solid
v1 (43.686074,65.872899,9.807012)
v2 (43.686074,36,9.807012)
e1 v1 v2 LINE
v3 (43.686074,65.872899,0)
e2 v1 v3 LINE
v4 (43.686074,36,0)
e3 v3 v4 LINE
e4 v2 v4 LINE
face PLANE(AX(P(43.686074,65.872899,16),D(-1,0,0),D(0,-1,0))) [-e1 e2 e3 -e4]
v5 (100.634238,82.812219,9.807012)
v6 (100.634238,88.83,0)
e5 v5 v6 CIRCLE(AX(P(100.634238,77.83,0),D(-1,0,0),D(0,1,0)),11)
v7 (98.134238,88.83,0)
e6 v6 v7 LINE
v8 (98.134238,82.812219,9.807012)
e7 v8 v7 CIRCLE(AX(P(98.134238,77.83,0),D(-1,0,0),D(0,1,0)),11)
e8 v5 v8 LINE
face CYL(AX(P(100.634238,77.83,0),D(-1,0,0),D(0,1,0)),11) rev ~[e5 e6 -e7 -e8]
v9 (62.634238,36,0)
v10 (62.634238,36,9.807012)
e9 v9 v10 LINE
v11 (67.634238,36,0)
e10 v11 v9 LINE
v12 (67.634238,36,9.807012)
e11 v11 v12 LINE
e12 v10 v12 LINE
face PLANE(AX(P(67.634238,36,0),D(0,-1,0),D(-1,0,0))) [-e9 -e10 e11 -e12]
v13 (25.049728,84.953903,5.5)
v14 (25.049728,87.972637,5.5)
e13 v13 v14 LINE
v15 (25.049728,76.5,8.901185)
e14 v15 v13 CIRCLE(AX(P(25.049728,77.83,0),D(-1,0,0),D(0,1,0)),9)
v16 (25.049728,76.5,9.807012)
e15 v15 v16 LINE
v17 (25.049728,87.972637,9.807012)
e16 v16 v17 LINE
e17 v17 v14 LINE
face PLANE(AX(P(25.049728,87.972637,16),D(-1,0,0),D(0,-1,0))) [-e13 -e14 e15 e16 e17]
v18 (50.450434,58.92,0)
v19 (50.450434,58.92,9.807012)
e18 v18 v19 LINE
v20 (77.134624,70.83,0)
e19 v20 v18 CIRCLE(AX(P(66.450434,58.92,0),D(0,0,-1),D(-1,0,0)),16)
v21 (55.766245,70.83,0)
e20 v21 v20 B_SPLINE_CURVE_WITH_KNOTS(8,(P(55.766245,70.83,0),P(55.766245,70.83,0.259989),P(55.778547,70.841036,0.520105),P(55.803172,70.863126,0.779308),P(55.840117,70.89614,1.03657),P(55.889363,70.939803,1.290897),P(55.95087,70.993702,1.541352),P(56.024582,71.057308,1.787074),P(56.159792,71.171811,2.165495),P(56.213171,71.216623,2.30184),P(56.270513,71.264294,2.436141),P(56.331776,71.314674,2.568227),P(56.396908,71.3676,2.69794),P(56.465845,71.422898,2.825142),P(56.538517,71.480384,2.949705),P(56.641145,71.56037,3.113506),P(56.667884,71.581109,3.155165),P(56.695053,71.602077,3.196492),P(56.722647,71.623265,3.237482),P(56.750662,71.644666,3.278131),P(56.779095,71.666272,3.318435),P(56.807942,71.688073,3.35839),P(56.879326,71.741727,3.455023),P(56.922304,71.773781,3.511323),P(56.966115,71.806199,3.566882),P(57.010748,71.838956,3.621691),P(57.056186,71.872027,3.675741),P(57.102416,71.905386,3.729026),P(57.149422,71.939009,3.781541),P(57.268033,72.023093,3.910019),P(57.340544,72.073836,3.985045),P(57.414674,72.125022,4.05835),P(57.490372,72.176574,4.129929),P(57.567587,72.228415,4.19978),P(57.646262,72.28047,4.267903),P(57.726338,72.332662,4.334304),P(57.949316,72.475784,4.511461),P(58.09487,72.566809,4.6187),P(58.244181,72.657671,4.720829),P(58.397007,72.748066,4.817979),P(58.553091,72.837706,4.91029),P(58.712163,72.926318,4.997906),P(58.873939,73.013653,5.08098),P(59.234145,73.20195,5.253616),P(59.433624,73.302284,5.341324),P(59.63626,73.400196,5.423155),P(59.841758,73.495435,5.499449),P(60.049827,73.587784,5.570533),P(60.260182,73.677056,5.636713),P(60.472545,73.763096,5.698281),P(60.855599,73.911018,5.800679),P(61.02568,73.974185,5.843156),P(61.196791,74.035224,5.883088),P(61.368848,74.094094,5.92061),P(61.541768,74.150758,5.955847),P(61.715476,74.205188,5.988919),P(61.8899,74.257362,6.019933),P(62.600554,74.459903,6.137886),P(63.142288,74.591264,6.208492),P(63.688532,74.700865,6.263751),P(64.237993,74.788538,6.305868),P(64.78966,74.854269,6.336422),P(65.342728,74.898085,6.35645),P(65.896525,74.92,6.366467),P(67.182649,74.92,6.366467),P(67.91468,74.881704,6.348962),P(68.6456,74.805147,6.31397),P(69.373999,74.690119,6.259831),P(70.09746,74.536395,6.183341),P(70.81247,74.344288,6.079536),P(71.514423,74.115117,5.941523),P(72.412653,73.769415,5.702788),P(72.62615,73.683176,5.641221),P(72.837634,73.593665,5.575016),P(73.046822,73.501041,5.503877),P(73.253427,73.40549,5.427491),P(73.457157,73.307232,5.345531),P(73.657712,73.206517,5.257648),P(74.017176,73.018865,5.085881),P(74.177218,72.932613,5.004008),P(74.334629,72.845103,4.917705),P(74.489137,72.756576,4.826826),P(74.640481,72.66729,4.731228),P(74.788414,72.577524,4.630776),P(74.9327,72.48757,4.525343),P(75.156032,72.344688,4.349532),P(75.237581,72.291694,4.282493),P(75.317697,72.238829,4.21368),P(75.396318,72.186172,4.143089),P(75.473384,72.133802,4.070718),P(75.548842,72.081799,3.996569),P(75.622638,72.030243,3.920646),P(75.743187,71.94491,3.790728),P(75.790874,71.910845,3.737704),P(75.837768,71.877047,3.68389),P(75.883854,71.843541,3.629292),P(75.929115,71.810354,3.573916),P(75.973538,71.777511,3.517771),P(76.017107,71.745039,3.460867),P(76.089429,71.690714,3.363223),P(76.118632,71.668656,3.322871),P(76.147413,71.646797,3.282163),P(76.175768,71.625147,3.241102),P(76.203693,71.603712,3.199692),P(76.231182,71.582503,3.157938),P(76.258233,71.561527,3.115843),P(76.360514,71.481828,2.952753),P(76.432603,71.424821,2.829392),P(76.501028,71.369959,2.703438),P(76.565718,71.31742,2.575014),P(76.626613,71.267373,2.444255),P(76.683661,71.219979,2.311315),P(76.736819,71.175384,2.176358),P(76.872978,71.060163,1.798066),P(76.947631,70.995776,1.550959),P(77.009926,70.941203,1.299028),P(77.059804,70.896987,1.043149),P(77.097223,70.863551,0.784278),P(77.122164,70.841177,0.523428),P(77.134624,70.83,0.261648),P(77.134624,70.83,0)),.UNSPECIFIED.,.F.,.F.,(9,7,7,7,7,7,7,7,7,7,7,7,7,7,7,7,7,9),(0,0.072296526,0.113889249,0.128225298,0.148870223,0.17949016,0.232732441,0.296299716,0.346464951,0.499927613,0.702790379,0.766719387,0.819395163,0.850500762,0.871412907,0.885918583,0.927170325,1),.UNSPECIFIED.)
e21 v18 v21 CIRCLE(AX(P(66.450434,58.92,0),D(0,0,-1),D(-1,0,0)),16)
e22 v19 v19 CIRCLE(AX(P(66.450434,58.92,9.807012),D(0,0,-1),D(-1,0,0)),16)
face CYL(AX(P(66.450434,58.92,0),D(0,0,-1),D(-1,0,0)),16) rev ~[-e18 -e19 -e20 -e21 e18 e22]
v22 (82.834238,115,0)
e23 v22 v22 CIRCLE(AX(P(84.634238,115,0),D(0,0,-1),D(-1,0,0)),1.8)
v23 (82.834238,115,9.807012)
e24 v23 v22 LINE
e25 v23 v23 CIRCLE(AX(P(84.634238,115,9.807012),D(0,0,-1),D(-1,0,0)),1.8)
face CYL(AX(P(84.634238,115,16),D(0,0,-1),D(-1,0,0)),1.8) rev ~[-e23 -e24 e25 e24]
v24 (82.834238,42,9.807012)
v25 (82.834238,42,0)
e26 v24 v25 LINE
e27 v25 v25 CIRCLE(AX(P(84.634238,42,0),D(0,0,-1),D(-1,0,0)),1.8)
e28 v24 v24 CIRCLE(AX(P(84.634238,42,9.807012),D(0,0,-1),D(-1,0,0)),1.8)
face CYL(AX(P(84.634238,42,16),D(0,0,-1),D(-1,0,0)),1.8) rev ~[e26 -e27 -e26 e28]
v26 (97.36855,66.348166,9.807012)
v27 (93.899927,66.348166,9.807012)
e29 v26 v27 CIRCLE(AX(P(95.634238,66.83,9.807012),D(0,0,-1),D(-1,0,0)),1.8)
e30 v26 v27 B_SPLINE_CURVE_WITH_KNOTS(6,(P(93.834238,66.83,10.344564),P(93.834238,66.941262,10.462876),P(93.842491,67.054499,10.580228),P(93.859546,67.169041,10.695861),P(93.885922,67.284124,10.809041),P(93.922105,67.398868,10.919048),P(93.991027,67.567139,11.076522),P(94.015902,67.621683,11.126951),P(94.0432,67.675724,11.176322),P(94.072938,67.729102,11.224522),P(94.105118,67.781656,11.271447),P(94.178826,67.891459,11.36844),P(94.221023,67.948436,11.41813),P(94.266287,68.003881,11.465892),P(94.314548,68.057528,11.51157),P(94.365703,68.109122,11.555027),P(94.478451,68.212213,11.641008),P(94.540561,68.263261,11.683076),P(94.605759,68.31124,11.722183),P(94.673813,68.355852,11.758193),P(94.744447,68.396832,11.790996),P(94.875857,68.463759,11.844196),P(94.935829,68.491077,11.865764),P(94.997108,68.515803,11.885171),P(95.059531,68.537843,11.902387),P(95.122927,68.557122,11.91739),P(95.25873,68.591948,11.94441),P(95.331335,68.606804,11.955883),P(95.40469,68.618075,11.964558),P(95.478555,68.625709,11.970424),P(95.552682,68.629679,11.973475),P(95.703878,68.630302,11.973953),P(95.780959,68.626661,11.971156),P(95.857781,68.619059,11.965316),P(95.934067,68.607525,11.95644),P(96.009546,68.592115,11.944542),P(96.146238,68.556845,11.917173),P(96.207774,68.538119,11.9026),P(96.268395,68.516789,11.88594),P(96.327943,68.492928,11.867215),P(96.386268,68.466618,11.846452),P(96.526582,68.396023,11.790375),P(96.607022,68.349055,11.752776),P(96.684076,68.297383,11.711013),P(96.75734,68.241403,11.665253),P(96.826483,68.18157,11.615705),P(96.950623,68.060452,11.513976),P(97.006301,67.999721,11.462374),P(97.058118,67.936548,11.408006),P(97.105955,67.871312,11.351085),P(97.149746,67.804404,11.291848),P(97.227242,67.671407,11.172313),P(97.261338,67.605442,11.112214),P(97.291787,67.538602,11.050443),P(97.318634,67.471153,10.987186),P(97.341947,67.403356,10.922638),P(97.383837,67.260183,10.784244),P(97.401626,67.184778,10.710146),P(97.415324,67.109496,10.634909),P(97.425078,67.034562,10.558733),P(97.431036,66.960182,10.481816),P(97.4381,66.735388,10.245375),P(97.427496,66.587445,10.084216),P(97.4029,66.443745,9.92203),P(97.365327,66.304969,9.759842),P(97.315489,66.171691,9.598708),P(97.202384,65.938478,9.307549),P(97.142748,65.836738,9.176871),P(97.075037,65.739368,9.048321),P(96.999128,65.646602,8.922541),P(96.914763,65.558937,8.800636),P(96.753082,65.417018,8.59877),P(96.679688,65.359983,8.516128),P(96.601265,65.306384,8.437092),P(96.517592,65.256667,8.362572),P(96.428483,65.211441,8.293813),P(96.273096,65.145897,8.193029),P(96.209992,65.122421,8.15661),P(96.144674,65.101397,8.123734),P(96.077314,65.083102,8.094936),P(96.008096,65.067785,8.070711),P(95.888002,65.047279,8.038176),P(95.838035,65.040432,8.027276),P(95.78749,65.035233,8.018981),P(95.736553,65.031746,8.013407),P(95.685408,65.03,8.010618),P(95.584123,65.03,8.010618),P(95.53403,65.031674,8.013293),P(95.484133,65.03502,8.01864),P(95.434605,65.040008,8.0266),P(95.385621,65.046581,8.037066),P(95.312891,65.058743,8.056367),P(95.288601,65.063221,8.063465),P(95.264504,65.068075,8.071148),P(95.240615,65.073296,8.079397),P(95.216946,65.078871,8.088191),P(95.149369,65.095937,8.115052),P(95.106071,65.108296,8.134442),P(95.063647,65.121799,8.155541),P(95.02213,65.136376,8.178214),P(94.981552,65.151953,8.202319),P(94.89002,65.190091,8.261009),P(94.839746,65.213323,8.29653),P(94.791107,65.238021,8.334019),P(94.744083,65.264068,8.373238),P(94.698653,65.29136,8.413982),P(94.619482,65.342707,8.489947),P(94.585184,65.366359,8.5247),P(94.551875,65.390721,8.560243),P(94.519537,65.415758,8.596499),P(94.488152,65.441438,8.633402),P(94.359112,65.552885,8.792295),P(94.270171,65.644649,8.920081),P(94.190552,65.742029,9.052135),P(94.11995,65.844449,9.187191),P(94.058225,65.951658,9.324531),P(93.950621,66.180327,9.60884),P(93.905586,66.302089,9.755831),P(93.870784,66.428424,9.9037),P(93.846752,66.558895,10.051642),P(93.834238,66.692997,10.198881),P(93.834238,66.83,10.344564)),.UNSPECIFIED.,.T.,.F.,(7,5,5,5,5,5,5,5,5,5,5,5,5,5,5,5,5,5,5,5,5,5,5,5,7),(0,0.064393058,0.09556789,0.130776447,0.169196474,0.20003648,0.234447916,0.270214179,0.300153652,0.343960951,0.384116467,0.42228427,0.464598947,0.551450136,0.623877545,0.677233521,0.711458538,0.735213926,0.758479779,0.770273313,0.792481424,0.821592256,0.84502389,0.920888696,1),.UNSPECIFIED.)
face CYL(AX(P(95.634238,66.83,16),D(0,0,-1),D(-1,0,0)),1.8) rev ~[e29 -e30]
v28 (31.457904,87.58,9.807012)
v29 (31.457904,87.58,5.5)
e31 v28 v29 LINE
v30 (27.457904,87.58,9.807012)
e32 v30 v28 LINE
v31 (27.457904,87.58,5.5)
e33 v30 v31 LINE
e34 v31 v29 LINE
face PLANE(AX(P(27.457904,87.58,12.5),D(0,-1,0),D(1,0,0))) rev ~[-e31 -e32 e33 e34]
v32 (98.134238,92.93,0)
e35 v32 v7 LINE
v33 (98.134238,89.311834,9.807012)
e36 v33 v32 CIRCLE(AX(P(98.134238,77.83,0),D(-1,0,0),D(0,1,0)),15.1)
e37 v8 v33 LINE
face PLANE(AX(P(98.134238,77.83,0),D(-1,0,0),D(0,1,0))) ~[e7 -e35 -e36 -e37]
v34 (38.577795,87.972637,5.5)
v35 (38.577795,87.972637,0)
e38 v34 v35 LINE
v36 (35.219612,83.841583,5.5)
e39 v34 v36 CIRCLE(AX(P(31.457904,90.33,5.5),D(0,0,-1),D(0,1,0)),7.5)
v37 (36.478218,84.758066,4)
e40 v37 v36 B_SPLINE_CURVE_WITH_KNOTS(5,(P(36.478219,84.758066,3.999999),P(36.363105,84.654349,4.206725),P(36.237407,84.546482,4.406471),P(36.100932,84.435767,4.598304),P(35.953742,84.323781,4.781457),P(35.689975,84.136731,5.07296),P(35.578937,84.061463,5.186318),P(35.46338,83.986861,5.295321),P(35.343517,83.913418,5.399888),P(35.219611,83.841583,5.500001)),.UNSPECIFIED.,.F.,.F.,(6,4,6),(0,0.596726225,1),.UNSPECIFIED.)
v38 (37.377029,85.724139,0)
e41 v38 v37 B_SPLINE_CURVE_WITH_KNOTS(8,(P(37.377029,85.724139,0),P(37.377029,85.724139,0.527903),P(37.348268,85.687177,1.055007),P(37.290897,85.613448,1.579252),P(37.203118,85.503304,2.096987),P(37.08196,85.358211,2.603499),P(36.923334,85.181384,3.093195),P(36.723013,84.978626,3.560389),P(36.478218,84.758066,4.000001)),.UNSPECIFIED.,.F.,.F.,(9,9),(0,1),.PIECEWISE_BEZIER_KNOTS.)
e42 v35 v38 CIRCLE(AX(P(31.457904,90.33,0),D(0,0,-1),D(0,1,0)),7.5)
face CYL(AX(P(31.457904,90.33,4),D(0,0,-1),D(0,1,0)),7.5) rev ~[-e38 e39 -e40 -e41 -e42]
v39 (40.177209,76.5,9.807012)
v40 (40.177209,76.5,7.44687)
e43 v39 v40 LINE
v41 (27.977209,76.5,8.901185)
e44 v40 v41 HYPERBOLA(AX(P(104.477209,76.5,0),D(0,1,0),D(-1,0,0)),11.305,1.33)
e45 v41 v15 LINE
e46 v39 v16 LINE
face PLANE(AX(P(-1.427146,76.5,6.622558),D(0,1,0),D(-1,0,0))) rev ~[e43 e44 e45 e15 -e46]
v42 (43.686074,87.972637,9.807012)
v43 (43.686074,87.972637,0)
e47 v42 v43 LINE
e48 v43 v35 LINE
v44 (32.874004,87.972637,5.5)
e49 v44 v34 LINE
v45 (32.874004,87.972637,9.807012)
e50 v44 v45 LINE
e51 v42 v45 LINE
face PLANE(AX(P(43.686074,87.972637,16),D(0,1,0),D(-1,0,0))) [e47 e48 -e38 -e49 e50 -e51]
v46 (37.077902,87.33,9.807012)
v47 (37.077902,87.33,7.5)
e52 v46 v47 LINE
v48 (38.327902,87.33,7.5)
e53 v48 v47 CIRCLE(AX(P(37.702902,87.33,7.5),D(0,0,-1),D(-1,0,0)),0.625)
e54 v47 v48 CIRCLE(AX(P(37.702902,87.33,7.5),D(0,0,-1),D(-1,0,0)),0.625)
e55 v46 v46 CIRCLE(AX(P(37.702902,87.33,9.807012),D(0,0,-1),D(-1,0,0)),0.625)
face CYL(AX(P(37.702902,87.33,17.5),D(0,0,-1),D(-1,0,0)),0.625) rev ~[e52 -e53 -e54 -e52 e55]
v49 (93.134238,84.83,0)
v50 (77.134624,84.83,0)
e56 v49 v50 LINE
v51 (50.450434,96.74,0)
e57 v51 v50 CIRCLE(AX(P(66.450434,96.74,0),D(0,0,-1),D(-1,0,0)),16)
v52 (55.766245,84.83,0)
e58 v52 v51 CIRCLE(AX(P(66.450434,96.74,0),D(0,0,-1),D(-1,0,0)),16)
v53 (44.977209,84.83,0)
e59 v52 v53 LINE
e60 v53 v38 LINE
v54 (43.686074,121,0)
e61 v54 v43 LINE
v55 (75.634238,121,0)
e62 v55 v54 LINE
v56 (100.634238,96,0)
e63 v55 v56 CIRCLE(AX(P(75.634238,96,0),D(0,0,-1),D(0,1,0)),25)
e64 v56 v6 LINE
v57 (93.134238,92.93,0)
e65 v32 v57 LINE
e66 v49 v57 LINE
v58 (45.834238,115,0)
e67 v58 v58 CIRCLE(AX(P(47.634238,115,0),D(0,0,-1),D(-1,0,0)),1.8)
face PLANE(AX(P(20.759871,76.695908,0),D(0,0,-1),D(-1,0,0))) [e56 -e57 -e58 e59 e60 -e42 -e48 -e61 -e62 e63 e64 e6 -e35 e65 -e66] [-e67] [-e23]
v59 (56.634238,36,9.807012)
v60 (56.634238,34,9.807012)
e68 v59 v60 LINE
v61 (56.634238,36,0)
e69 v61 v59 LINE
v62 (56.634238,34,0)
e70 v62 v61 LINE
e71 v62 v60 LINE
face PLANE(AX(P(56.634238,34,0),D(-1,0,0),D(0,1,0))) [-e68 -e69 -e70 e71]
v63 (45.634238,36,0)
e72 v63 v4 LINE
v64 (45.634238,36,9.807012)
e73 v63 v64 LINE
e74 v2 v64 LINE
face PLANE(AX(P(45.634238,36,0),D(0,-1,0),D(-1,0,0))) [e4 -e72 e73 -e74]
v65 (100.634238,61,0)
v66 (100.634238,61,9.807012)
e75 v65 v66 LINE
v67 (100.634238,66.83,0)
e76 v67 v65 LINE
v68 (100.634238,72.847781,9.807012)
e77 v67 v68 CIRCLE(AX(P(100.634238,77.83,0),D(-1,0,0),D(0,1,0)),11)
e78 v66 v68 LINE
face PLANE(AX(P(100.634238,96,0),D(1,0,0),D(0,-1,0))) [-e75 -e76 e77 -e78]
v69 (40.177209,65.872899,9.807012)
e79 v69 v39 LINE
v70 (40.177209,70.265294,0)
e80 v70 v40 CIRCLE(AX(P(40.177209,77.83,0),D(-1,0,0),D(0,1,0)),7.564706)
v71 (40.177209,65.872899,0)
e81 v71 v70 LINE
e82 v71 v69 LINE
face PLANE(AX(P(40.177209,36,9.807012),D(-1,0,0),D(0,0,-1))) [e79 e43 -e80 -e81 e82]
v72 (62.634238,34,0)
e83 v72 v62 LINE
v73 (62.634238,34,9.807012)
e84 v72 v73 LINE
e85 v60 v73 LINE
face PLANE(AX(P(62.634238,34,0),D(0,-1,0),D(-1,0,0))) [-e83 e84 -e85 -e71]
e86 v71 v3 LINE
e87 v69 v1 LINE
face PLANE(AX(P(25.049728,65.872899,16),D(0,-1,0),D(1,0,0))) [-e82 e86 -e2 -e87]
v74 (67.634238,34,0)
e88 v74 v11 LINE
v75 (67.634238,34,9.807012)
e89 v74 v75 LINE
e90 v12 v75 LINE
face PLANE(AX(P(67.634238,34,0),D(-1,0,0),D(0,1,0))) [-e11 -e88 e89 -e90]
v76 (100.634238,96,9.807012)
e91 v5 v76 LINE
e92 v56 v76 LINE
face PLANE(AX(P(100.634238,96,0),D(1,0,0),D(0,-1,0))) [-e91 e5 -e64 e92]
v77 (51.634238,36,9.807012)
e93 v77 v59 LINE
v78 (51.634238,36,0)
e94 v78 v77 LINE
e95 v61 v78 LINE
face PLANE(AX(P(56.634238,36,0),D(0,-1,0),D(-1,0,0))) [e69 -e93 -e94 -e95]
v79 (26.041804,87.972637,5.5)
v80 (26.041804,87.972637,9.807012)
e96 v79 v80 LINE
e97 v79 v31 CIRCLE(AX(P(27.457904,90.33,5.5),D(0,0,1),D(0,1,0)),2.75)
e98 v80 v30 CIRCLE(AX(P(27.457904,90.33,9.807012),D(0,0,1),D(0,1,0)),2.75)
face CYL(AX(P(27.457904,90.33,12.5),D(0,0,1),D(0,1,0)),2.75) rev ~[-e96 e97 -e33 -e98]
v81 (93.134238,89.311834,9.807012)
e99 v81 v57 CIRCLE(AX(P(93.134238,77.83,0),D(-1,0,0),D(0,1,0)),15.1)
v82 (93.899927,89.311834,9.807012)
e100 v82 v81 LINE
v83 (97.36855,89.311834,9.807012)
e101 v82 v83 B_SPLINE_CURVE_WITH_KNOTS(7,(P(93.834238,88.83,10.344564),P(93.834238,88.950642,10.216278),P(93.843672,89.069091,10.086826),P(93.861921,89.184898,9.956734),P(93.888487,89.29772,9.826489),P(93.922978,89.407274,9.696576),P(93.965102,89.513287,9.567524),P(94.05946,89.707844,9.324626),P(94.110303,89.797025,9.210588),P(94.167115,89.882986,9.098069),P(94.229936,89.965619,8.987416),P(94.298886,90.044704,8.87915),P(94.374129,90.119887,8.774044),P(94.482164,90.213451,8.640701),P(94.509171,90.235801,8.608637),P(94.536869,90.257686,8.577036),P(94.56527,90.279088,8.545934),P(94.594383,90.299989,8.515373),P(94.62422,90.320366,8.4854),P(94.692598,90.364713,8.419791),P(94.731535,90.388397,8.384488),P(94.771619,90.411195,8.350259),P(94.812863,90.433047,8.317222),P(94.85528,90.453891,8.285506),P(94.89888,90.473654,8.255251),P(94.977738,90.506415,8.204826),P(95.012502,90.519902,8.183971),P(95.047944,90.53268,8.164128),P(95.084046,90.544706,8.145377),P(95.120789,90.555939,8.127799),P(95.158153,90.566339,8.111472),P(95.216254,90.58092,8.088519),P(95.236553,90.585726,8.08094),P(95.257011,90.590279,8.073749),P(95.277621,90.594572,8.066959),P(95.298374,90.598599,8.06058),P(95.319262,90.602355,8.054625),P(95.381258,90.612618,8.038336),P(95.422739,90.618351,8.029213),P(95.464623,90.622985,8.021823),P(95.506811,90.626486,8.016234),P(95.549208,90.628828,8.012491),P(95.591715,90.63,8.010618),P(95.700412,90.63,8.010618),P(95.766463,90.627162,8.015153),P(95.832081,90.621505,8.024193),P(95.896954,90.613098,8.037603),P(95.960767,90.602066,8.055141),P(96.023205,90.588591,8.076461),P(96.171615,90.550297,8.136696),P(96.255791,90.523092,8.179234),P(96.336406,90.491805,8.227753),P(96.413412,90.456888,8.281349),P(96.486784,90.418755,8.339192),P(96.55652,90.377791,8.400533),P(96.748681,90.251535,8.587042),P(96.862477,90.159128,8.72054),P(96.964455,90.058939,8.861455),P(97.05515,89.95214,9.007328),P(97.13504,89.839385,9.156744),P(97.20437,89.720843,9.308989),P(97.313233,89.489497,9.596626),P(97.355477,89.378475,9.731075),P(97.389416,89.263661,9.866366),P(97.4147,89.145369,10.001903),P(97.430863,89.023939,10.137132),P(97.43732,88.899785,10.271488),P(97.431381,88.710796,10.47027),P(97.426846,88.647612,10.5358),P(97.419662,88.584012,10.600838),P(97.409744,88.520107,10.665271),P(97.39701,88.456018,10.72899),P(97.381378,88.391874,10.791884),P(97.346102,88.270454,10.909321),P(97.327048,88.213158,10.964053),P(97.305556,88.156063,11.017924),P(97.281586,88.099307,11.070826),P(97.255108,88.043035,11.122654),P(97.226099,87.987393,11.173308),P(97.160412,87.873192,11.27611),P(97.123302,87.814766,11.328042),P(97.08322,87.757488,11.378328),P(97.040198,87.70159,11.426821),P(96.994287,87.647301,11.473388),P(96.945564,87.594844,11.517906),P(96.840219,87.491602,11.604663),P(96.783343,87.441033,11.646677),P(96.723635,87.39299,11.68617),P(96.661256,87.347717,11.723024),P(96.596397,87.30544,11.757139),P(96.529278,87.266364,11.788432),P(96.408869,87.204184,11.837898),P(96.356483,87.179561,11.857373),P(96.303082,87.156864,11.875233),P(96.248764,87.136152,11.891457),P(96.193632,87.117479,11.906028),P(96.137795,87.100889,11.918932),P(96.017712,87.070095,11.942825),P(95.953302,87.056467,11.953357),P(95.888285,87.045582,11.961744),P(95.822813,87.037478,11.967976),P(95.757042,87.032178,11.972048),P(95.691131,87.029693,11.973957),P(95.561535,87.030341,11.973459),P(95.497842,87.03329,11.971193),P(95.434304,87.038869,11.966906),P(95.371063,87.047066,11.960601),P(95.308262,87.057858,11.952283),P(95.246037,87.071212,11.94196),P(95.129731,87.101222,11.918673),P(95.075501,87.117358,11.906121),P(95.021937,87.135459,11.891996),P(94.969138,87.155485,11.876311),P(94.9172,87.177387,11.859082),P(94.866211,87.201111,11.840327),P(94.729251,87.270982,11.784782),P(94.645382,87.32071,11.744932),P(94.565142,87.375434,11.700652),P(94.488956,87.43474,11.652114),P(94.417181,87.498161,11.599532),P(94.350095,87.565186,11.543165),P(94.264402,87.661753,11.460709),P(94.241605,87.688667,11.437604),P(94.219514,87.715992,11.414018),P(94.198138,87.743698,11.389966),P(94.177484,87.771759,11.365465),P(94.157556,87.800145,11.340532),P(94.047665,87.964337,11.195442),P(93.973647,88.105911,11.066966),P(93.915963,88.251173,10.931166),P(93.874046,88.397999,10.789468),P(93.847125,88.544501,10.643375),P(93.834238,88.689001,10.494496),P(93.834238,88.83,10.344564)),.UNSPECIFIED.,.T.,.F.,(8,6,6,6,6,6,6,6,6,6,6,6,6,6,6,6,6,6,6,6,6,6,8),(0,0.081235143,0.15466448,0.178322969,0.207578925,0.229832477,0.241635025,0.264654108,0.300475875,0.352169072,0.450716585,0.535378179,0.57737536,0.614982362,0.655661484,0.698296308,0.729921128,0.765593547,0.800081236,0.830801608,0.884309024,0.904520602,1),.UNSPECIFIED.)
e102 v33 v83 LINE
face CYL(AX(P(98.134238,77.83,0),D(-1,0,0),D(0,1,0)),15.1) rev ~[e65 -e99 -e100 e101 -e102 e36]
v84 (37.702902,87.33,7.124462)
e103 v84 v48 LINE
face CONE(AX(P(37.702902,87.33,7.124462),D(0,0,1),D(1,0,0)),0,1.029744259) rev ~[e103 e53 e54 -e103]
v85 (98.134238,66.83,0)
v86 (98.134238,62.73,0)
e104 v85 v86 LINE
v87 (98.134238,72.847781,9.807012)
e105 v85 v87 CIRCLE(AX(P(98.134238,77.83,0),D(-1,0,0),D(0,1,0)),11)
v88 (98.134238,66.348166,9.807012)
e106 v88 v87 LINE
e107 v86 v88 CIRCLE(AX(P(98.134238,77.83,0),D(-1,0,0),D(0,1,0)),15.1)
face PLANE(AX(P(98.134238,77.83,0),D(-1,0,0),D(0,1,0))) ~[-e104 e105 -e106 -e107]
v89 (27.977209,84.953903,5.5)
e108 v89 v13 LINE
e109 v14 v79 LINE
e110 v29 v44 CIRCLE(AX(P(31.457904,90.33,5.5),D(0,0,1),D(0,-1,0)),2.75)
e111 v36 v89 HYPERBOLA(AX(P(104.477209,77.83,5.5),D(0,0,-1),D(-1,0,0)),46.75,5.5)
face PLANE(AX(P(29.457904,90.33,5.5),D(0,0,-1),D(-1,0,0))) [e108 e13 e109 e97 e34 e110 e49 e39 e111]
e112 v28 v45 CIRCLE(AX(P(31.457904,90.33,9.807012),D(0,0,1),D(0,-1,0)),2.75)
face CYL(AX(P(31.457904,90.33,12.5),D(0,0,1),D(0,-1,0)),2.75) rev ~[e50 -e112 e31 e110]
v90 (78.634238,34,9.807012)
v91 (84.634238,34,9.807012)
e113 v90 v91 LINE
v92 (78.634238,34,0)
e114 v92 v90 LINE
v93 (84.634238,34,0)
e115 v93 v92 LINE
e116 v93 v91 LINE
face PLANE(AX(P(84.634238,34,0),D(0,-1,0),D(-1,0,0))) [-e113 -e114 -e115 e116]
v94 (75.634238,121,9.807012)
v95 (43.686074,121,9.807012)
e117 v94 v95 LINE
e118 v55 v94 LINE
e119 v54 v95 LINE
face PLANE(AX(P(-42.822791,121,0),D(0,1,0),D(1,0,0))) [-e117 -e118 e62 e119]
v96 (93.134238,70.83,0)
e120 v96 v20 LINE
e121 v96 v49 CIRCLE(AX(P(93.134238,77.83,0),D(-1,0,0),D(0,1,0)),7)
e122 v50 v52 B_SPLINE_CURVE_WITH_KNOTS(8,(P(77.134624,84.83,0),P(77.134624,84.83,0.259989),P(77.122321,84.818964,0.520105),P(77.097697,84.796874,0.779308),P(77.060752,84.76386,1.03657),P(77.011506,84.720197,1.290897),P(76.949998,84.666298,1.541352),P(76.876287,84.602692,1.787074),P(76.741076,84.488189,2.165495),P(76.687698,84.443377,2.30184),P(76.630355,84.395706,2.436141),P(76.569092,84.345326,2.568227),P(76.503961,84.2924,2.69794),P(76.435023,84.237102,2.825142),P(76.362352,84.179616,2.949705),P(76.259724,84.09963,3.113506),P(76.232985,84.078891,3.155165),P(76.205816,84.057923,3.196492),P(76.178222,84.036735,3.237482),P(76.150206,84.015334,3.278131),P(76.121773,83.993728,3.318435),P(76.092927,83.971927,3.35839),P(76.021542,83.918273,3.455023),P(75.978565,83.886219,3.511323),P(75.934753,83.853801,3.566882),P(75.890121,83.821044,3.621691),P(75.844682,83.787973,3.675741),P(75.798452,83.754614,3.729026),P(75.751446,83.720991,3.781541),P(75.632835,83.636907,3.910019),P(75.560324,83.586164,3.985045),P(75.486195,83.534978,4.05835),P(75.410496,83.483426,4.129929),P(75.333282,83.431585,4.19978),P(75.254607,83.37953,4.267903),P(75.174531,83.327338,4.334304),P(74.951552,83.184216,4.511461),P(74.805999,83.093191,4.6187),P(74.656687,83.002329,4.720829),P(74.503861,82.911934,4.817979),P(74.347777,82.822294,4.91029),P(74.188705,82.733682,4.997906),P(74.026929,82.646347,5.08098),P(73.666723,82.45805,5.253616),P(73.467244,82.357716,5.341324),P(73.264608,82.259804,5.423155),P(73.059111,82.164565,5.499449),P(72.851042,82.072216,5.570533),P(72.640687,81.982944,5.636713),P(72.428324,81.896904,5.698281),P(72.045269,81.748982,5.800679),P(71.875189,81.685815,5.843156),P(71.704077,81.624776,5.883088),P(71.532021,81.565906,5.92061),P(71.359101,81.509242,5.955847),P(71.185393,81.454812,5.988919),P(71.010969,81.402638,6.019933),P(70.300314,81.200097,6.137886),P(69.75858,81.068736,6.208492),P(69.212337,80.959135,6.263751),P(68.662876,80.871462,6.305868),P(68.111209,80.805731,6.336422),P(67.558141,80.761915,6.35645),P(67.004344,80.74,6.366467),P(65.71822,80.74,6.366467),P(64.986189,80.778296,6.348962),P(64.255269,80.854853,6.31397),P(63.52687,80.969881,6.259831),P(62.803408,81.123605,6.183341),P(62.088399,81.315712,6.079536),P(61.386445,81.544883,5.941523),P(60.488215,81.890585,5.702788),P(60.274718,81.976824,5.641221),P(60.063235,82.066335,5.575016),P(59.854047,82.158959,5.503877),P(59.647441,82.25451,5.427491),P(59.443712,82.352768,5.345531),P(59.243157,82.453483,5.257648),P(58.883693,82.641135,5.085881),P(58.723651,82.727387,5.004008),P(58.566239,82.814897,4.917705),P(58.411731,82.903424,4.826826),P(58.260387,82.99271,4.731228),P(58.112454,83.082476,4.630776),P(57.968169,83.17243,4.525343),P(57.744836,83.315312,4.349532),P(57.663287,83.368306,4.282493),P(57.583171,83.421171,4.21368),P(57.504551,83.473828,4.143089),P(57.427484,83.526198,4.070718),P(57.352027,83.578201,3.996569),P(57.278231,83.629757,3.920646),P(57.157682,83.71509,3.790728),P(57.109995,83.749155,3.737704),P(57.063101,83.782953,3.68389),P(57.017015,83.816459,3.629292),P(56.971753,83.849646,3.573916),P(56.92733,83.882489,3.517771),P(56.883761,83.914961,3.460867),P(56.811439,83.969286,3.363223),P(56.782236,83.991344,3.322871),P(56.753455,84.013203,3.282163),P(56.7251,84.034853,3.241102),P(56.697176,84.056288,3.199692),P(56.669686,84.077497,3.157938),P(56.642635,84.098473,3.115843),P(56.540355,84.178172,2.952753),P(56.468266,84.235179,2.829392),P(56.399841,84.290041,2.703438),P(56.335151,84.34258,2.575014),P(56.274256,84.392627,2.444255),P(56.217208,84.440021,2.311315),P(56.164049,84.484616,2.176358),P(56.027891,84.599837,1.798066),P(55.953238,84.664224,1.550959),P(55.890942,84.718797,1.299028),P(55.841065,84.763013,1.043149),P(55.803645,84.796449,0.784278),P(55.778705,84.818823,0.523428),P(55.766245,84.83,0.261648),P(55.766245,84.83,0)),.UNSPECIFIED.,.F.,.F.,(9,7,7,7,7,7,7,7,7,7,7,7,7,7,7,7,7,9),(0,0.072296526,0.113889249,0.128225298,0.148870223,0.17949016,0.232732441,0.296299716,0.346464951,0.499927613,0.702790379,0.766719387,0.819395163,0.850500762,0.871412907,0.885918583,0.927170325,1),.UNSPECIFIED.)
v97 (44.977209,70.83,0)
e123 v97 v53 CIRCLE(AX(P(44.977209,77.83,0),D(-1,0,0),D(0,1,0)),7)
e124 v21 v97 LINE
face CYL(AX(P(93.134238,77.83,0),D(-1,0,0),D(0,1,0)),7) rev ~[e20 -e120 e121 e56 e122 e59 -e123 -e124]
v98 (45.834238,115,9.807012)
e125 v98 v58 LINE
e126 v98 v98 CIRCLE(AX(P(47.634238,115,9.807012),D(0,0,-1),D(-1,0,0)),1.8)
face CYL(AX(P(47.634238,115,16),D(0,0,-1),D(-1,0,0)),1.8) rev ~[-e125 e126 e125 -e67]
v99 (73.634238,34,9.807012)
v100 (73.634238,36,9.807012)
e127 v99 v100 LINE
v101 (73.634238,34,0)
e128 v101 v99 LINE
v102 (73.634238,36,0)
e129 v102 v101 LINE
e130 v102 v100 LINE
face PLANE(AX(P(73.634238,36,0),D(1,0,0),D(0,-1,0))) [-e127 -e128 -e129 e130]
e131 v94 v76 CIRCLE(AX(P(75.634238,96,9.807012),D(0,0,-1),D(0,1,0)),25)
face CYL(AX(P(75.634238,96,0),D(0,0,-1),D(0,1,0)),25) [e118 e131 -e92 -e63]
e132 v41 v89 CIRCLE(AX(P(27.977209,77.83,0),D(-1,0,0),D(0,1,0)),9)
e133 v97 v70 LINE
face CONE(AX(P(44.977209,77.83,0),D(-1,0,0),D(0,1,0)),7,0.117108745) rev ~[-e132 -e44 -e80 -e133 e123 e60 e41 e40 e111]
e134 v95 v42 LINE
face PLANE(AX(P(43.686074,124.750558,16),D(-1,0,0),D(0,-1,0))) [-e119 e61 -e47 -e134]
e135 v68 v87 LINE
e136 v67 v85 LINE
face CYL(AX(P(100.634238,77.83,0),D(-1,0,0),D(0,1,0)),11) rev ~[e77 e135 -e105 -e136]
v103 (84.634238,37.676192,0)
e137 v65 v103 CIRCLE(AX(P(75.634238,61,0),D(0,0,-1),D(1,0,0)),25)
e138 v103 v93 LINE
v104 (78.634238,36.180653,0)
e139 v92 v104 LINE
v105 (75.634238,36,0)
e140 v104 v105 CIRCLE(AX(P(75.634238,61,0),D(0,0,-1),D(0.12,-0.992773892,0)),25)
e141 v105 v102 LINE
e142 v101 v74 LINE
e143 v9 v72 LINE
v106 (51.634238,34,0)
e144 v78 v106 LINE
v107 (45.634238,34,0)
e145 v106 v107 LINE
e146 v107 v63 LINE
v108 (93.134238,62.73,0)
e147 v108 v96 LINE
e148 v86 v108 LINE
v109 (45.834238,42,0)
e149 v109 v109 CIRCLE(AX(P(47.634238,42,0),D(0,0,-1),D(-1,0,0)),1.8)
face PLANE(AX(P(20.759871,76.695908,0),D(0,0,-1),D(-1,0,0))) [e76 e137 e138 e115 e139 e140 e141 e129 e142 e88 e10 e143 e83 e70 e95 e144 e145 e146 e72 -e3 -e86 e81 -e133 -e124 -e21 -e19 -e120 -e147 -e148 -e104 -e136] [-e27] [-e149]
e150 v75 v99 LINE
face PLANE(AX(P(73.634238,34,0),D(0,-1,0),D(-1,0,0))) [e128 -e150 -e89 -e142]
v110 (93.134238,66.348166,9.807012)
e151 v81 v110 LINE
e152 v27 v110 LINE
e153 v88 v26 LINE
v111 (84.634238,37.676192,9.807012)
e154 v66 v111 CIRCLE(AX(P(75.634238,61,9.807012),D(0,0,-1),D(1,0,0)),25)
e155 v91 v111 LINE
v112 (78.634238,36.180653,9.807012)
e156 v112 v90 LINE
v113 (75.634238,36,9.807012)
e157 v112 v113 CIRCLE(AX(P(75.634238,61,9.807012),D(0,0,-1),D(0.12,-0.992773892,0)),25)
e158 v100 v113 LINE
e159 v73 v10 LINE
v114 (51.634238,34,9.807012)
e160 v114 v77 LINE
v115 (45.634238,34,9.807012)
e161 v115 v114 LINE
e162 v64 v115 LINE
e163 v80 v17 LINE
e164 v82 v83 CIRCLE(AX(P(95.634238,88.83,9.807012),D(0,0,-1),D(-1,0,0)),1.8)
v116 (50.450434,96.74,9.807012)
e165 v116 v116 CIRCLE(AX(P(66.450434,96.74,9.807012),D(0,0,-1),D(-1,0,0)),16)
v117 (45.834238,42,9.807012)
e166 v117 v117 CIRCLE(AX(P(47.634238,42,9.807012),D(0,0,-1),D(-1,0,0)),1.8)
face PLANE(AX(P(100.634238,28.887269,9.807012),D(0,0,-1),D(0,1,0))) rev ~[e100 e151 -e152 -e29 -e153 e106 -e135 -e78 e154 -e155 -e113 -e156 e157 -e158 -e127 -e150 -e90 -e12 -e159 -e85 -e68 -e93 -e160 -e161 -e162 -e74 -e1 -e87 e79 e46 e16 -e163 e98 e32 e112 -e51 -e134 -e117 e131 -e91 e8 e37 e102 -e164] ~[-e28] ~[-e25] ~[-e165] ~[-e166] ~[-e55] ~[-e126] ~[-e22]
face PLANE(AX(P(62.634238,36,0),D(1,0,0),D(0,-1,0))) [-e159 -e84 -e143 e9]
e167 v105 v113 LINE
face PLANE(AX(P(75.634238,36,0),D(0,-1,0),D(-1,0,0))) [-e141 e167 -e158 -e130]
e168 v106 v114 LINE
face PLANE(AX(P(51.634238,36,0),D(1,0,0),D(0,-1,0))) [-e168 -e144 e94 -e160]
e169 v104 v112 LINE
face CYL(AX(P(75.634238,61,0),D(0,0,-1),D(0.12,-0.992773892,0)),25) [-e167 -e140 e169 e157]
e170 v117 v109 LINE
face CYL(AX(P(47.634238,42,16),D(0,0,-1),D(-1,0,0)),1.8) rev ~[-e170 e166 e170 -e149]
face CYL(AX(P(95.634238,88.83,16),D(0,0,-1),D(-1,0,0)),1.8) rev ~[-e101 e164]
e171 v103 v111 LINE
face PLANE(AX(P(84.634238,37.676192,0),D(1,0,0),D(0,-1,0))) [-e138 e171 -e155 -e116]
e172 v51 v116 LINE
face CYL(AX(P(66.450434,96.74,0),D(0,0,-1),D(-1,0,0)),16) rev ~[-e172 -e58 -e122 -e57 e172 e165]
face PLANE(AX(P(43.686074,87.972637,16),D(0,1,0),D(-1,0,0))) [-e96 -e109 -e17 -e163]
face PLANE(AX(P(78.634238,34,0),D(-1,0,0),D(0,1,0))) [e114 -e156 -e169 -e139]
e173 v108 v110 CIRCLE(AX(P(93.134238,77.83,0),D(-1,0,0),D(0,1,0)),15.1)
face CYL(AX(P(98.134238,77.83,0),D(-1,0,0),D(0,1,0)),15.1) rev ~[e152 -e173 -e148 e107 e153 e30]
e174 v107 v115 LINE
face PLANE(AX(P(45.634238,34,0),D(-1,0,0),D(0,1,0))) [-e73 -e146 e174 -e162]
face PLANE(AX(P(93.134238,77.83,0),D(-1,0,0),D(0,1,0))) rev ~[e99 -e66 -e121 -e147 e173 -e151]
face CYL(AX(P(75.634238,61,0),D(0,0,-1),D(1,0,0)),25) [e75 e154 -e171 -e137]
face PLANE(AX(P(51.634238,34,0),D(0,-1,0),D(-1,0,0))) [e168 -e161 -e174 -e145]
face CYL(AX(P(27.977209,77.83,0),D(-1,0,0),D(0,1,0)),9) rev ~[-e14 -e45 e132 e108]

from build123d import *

# Parameters (mm, degrees)
MAIN_BODY_DEPTH                                      = 16
FLYWHEEL_ESC_CLEARANCE_DEPTH                         = 10
FLYWHEEL_ESC_WIRE_DEPTH                              = 5
DRIVE_STEPPER_CLEARANCE_DEPTH                        = 13
DRIVE_BELT_CLEARANCE_DEPTH                           = 4
CLIP_CLEARANCE_DEPTH                                 = 40.5
CLIP_HEAD_CLEARANCE_DEPTH                            = 13
SKETCH16_R                                           = 16
FLYWHEEL_CLEARANCE_DEPTH                             = 10
SKETCH17_W                                           = 12
SKETCH17_H                                           = 10
CUT_EXTRUDE17_DEPTH                                  = 83
M3_TAPPED_HOLE1_D                                    = 2.5
M3_TAPPED_HOLE1_DEPTH                                = 7.5
M3_TAPPED_HOLE1_TIP                                  = 0.751075774
CBORE_FOR_M3_HEX_SOCKET_THIN_HEAD_CAP_SC_D           = 3.6
CBORE_FOR_M3_HEX_SOCKET_THIN_HEAD_CAP_SC_CBORE_D     = 6.5
CBORE_FOR_M3_HEX_SOCKET_THIN_HEAD_CAP_SC_CBORE_DEPTH = 3
FILLET1_R                                            = 7
CUT_EXTRUDE19_DEPTH                                  = 3.5
M1_6_TAPPED_HOLE1_D                                  = 1.25
M1_6_TAPPED_HOLE1_DEPTH                              = 5
M1_6_TAPPED_HOLE1_TIP                                = 0.375537887
CUT_EXTRUDE20_REACH                                  = 159.875
VARFILLET1_R                                         = 1
CUT_EXTRUDE21_DEPTH                                  = 1.5
SKETCH29_W                                           = 51.659518048
SKETCH29_H                                           = 2.245304486
BOSS_EXTRUDE1_DEPTH                                  = 1
CUT_EXTRUDE22_START                                  = -16
CUT_EXTRUDE22_DEPTH                                  = 16
CUT_EXTRUDE23_START                                  = -75.58451
SKETCH32_W                                           = 7.763871227
SKETCH32_H                                           = 95.016791683
CUT_EXTRUDE23_DEPTH                                  = 75.58451


with BuildPart() as part:
    # Sketch1 → main body (new body)
    with BuildSketch(Plane.XY):
        with BuildLine():
            Line((84.634238464, 37.676192421), (84.634238464, 34))
            Line((84.634238464, 34), (78.634238464, 34))
            Line((78.634238464, 34), (78.634238464, 36.180652708))
            ThreePointArc((78.634238464, 36.180652708), (77.13695562, 36.045204045), (75.634238464, 36))
            Line((75.634238464, 36), (73.634238464, 36))
            Line((73.634238464, 36), (73.634238464, 34))
            Line((73.634238464, 34), (67.634238464, 34))
            Line((67.634238464, 34), (67.634238464, 36))
            Line((67.634238464, 36), (62.634238464, 36))
            Line((62.634238464, 36), (62.634238464, 34))
            Line((62.634238464, 34), (56.634238464, 34))
            Line((56.634238464, 34), (56.634238464, 36))
            Line((56.634238464, 36), (51.634238464, 36))
            Line((51.634238464, 36), (51.634238464, 34))
            Line((51.634238464, 34), (45.634238464, 34))
            Line((45.634238464, 34), (45.634238464, 36))
            Line((45.634238464, 36), (40.177209114, 36))
            Line((40.177209114, 36), (-54.822790886, 36))
            Line((-54.822790886, 36), (-54.822790886, 119))
            Line((-54.822790886, 119), (-42.822790886, 119))
            Line((-42.822790886, 119), (-42.822790886, 121))
            Line((-42.822790886, 121), (75.634238464, 121))
            ThreePointArc((75.634238464, 121), (93.311907994, 113.67766953), (100.634238464, 96))
            Line((100.634238464, 96), (100.634238464, 61))
            ThreePointArc((100.634238464, 61), (96.249766592, 46.857864376), (84.634238464, 37.676192421))
        make_face()
    extrude(amount=MAIN_BODY_DEPTH)

    # Sketch2 → flywheel_esc_clearance (cut)
    with BuildSketch(Plane(origin=(0, 0, 0), x_dir=(-1, 0, 0), z_dir=(0, 0, -1))):
        Polygon((-7.21561795, 116.504695514), (-10.21561795, 116.504695514), (-10.21561795, 118.754695514), (-13.21561795, 118.754695514), (-10.970313465, 121), (-12.384527027, 121), (-14.629831513, 118.754695514), (-18.21561795, 118.754695514), (-15.970313465, 121), (-17.384527027, 121), (-19.629831513, 118.754695514), (-23.21561795, 118.754695514), (-20.970313465, 121), (-22.384527027, 121), (-24.629831513, 118.754695514), (-28.21561795, 118.754695514), (-25.970313465, 121), (-27.384527027, 121), (-29.629831513, 118.754695514), (-33.21561795, 118.754695514), (-30.970313465, 121), (-32.384527027, 121), (-34.629831513, 118.754695514), (-35.21561795, 118.754695514), (-35.21561795, 116.504695514), (-37.71561795, 116.504695514), (-37.71561795, 114.004695514), (-35.21561795, 114.004695514), (-35.21561795, 111.754695514), (-14.71561795, 111.754695514), (-14.71561795, 109.254695514), (-10.21561795, 109.254695514), (-10.21561795, 111.047588733), (-10.21561795, 114.004695514), (-7.21561795, 114.004695514), (-7.21561795, 111.047588733), (-7.21561795, 109.254695514), (-2.71561795, 109.254695514), (-2.71561795, 111.754695514), (17.78438205, 111.754695514), (17.78438205, 114.004695514), (20.28438205, 114.004695514), (20.28438205, 116.504695514), (17.78438205, 116.504695514), (17.78438205, 118.754695514), (14.78438205, 118.754695514), (17.029686535, 121), (15.615472973, 121), (13.370168487, 118.754695514), (9.78438205, 118.754695514), (12.029686535, 121), (10.615472973, 121), (8.370168487, 118.754695514), (4.78438205, 118.754695514), (7.029686535, 121), (5.615472973, 121), (3.370168487, 118.754695514), (-0.21561795, 118.754695514), (2.029686535, 121), (0.615472973, 121), (-1.629831513, 118.754695514), (-5.21561795, 118.754695514), (-2.970313465, 121), (-4.384527027, 121), (-6.629831513, 118.754695514), (-7.21561795, 118.754695514), align=None)
    extrude(amount=-FLYWHEEL_ESC_CLEARANCE_DEPTH, mode=Mode.SUBTRACT)

    # Sketch4 → Flywheel_esc_wire (cut)
    with BuildSketch(Plane(origin=(0, 0, 0), x_dir=(-1, 0, 0), z_dir=(0, 0, -1))):
        Polygon((27.259258709, 111.754695514), (42.822790886, 111.754695514), (42.822790886, 117.754695514), (17.78438205, 117.754695514), (17.78438205, 111.754695514), (-35.21561795, 111.754695514), (-35.21561795, 118.754695514), (-38.21561795, 118.754695514), (-38.21561795, 108.754695514), (27.259258709, 108.754695514), align=None)
    extrude(amount=-FLYWHEEL_ESC_WIRE_DEPTH, mode=Mode.SUBTRACT)

    # Sketch6 → drive_Stepper_clearance (cut)
    with BuildSketch(Plane(origin=(0, 0, 0), x_dir=(-1, 0, 0), z_dir=(0, 0, -1))):
        with BuildLine():
            Line((41.822790886, 108.33001947), (54.822790886, 108.33001947))
            Line((54.822790886, 108.33001947), (54.822790886, 72.33001947))
            Line((54.822790886, 72.33001947), (41.822790886, 72.33001947))
            ThreePointArc((41.822790886, 72.33001947), (39.701470543, 73.208699126), (38.822790886, 75.33001947))
            Line((38.822790886, 75.33001947), (38.822790886, 105.33001947))
            ThreePointArc((38.822790886, 105.33001947), (39.701470543, 107.451339814), (41.822790886, 108.33001947))
        make_face()
    extrude(amount=-DRIVE_STEPPER_CLEARANCE_DEPTH, mode=Mode.SUBTRACT)

    # Sketch7 → drive_belt_clearance (cut)
    with BuildSketch(Plane(origin=(0, 0, 0), x_dir=(-1, 0, 0), z_dir=(0, 0, -1))):
        with BuildLine():
            Line((-31.457904234, 82.83), (38.822790886, 82.83))
            Line((38.822790886, 82.83), (38.822790886, 97.83))
            Line((38.822790886, 97.83), (-31.457904234, 97.83))
            ThreePointArc((-31.457904234, 97.83), (-38.957904234, 90.33), (-31.457904234, 82.83))
        make_face()
    extrude(amount=-DRIVE_BELT_CLEARANCE_DEPTH, mode=Mode.SUBTRACT)

    # Sketch12 → barrel (revolve, cut)
    with BuildSketch(Plane(origin=(0, 0, 0), x_dir=(-1, 0, 0), z_dir=(0, 0, -1))):
        Polygon((-100.634238464, 88.83), (-98.134238464, 88.83), (-98.134238464, 92.93), (-93.134238464, 92.93), (-93.134238464, 84.83), (-44.977209114, 84.83), (-27.977209114, 86.83), (38.822790886, 86.83), (38.822790886, 77.83), (-93.134238464, 77.83), (-100.634238464, 77.83), align=None)
    revolve(axis=Axis((100.634238464, 77.83, 0), (-1, 0, 0)), mode=Mode.SUBTRACT)

    # Sketch14 → clip clearance (cut)
    with BuildSketch(Plane.XZ.offset(-36)):
        Polygon((40.177209114, 9.807012356), (40.177209114, 0), (-41.822790886, 0), (-41.822790886, 9.807012356), (-31.822790886, 11.340345689), (-31.822790886, 10.733333333), (-30.222790886, 10.978666667), (-30.222790886, 11.585679022), (-28.820032834, 11.80076859), (-28.820032834, 9.5), (-24.320032834, 9.5), (-24.320032834, 14), (-13.422790886, 14), (-13.422790886, 13), (-11.822790886, 13), (-11.822790886, 14), (10.177209114, 14), (10.177209114, 13), (11.777209114, 13), (11.777209114, 14), (25.177209114, 14), (25.177209114, 12.107012356), (28.577209114, 11.585679022), (28.577209114, 10.978666667), (30.177209114, 10.733333333), (30.177209114, 11.340345689), align=None)
    extrude(amount=-CLIP_CLEARANCE_DEPTH, mode=Mode.SUBTRACT)

    # Sketch15 → clip-head clearance (cut)
    with BuildSketch(Plane.XZ.offset(-76.5)):
        Polygon((-24.320032834, 0), (-24.320032834, 14), (-13.422790886, 14), (-13.422790886, 13), (-11.822790886, 13), (-11.822790886, 14), (10.177209114, 14), (10.177209114, 13), (11.777209114, 13), (11.777209114, 14), (22.464967166, 14), (22.464967166, 0), align=None)
    extrude(amount=-CLIP_HEAD_CLEARANCE_DEPTH, mode=Mode.SUBTRACT)

    # Sketch16 → flywheel_clearance (cut)
    with BuildSketch(Plane(origin=(0, 0, 0), x_dir=(-1, 0, 0), z_dir=(0, 0, -1))):
        with Locations((-66.450434282, 96.74)):
            Circle(SKETCH16_R)
        with Locations((-66.450434282, 58.92)):
            Circle(SKETCH16_R)
    extrude(amount=-FLYWHEEL_CLEARANCE_DEPTH, mode=Mode.SUBTRACT)

    # Sketch17 → Cut-Extrude17 (cut)
    with BuildSketch(Plane(origin=(0, 119, 0), x_dir=(1, 0, 0), z_dir=(0, 1, 0))):
        with Locations((-48.822790886, -5)):
            Rectangle(SKETCH17_W, SKETCH17_H)
    extrude(amount=-CUT_EXTRUDE17_DEPTH, mode=Mode.SUBTRACT)

    # M3 Tapped Hole1
    with Locations(Plane(origin=(0, 36, 0), x_dir=(-1, 0, 0), z_dir=(0, -1, 0))):
        with Locations((44.822790886, -12.5), (-41.677209114, -12.5)):
            Hole(M3_TAPPED_HOLE1_D / 2, depth=M3_TAPPED_HOLE1_DEPTH)
            with Locations((0, 0, -(M3_TAPPED_HOLE1_DEPTH + M3_TAPPED_HOLE1_TIP / 2))):  # 118° drill point
                Cone(0, M3_TAPPED_HOLE1_D / 2, M3_TAPPED_HOLE1_TIP, mode=Mode.SUBTRACT)

    # CBORE for M3 Hex Socket Thin Head Cap Screw1 (through all)
    with Locations(Plane.XY.offset(16)):
        with Locations((95.634238464, 88.83), (95.634238464, 66.83), (84.634238464, 115), (47.634238464, 115), (47.634238464, 42), (84.634238464, 42), (-48.822790886, 44.50734437), (-48.822790886, 64.952229105), (-48.822790886, 115)):
            CounterBoreHole(CBORE_FOR_M3_HEX_SOCKET_THIN_HEAD_CAP_SC_D / 2, CBORE_FOR_M3_HEX_SOCKET_THIN_HEAD_CAP_SC_CBORE_D / 2, CBORE_FOR_M3_HEX_SOCKET_THIN_HEAD_CAP_SC_CBORE_DEPTH)

    # Fillet1
    fillet1_edges = [part.edges().sort_by_distance(p)[0] for p in [
        (-0.822790886, 89.5, 14),
    ]]
    fillet(fillet1_edges, radius=FILLET1_R)

    # Sketch23 → Cut-Extrude19 (cut)
    with BuildSketch(Plane.XY.offset(16)):
        with BuildLine():
            Line((16.157904234, 96.58), (31.457904234, 96.58))
            ThreePointArc((31.457904234, 96.58), (35.564181233, 95.041792569), (37.649240377, 91.184316547))
            ThreePointArc((37.649240377, 91.184316547), (37.882767002, 90.752279232), (38.342670026, 90.58))
            Line((38.342670026, 90.58), (43.040307117, 90.58))
            ThreePointArc((43.040307117, 90.58), (43.535281864, 90.374974747), (43.740307117, 89.88))
            Line((43.740307117, 89.88), (43.740307117, 84.78))
            ThreePointArc((43.740307117, 84.78), (43.535281864, 84.285025253), (43.040307117, 84.08))
            Line((43.040307117, 84.08), (27.457904234, 84.08))
            ThreePointArc((27.457904234, 84.08), (23.351627235, 85.618207431), (21.266568091, 89.475683453))
            ThreePointArc((21.266568091, 89.475683453), (21.033041467, 89.907720768), (20.573138443, 90.08))
            Line((20.573138443, 90.08), (16.157904234, 90.08))
            ThreePointArc((16.157904234, 90.08), (15.662929487, 90.285025253), (15.457904234, 90.78))
            Line((15.457904234, 90.78), (15.457904234, 95.88))
            ThreePointArc((15.457904234, 95.88), (15.662929487, 96.374974747), (16.157904234, 96.58))
        make_face()
    extrude(amount=-CUT_EXTRUDE19_DEPTH, mode=Mode.SUBTRACT)

    # M1.6 Tapped Hole1
    with Locations(Plane.XY.offset(12.5)):
        with Locations((21.212906236, 93.33), (37.702902233, 87.33)):
            Hole(M1_6_TAPPED_HOLE1_D / 2, depth=M1_6_TAPPED_HOLE1_DEPTH)
            with Locations((0, 0, -(M1_6_TAPPED_HOLE1_DEPTH + M1_6_TAPPED_HOLE1_TIP / 2))):  # 118° drill point
                Cone(0, M1_6_TAPPED_HOLE1_D / 2, M1_6_TAPPED_HOLE1_TIP, mode=Mode.SUBTRACT)

    # Sketch27 → Cut-Extrude20 (cut, up to next)
    with BuildSketch(Plane.XY.offset(12.5), mode=Mode.PRIVATE) as cut_extrude20_sk1:
        with BuildLine():
            Line((27.457904234, 87.58), (31.457904234, 87.58))
            ThreePointArc((31.457904234, 87.58), (34.207904234, 90.33), (31.457904234, 93.08))
            Line((31.457904234, 93.08), (27.457904234, 93.08))
            ThreePointArc((27.457904234, 93.08), (24.707904234, 90.33), (27.457904234, 87.58))
        make_face()
    cut_extrude20_tool1 = extrude(cut_extrude20_sk1.sketch, amount=-CUT_EXTRUDE20_REACH, mode=Mode.PRIVATE) & part.part
    add(cut_extrude20_tool1.solids().sort_by_distance((29.457904, 90.33, 12.5))[0], mode=Mode.SUBTRACT)

    # VarFillet1
    varfillet1_edges = [part.edges().sort_by_distance(p)[0] for p in [
        (24.707904234, 90.33, 12.5),
    ]]
    fillet(varfillet1_edges, radius=VARFILLET1_R)

    # Sketch28 → Cut-Extrude21 (cut)
    with BuildSketch(Plane(origin=(0, 0, 4), x_dir=(-1, 0, 0), z_dir=(0, 0, -1))):
        with BuildLine():
            Line((-27.457904234, 97.83), (-31.457904234, 97.83))
            ThreePointArc((-31.457904234, 97.83), (-38.957904234, 90.33), (-31.457904234, 82.83))
            Line((-31.457904234, 82.83), (-27.457904234, 82.83))
            ThreePointArc((-27.457904234, 82.83), (-19.957904234, 90.33), (-27.457904234, 97.83))
        make_face()
    extrude(amount=-CUT_EXTRUDE21_DEPTH, mode=Mode.SUBTRACT)

    # Sketch29 → Boss-Extrude1 (add)
    with BuildSketch(Plane(origin=(0, 0, 0), x_dir=(-1, 0, 0), z_dir=(0, 0, -1))):
        with Locations((-8.800072489, 119.877347757)):
            Rectangle(SKETCH29_W, SKETCH29_H)
    extrude(amount=-BOSS_EXTRUDE1_DEPTH)

    # Sketch30 → Cut-Extrude22 (cut)
    with BuildSketch(Plane(origin=(0, 0, 0), x_dir=(-1, 0, 0), z_dir=(0, 0, -1)).offset(CUT_EXTRUDE22_START)):
        Polygon((54.822790886, 99.517275915), (55.927668627, 99.517275915), (55.927668627, 124.750558425), (-43.686074091, 124.750558425), (-43.686074091, 99.517275915), (-43.686074091, 87.972636859), (-25.049728185, 87.972636859), (-25.049728185, 65.872899236), (-43.686074091, 65.872899236), (-43.686074091, 36), (-25.049728185, 36), (54.822790886, 36), align=None)
    extrude(amount=CUT_EXTRUDE22_DEPTH, mode=Mode.SUBTRACT)

    # Sketch32 → Cut-Extrude23 (cut)
    with BuildSketch(Plane.ZY.offset(-25.049728185).offset(CUT_EXTRUDE23_START)):
        with Locations((13.68894797, 76.395665261)):
            Rectangle(SKETCH32_W, SKETCH32_H)
    extrude(amount=CUT_EXTRUDE23_DEPTH, mode=Mode.SUBTRACT)


solid = part.part
